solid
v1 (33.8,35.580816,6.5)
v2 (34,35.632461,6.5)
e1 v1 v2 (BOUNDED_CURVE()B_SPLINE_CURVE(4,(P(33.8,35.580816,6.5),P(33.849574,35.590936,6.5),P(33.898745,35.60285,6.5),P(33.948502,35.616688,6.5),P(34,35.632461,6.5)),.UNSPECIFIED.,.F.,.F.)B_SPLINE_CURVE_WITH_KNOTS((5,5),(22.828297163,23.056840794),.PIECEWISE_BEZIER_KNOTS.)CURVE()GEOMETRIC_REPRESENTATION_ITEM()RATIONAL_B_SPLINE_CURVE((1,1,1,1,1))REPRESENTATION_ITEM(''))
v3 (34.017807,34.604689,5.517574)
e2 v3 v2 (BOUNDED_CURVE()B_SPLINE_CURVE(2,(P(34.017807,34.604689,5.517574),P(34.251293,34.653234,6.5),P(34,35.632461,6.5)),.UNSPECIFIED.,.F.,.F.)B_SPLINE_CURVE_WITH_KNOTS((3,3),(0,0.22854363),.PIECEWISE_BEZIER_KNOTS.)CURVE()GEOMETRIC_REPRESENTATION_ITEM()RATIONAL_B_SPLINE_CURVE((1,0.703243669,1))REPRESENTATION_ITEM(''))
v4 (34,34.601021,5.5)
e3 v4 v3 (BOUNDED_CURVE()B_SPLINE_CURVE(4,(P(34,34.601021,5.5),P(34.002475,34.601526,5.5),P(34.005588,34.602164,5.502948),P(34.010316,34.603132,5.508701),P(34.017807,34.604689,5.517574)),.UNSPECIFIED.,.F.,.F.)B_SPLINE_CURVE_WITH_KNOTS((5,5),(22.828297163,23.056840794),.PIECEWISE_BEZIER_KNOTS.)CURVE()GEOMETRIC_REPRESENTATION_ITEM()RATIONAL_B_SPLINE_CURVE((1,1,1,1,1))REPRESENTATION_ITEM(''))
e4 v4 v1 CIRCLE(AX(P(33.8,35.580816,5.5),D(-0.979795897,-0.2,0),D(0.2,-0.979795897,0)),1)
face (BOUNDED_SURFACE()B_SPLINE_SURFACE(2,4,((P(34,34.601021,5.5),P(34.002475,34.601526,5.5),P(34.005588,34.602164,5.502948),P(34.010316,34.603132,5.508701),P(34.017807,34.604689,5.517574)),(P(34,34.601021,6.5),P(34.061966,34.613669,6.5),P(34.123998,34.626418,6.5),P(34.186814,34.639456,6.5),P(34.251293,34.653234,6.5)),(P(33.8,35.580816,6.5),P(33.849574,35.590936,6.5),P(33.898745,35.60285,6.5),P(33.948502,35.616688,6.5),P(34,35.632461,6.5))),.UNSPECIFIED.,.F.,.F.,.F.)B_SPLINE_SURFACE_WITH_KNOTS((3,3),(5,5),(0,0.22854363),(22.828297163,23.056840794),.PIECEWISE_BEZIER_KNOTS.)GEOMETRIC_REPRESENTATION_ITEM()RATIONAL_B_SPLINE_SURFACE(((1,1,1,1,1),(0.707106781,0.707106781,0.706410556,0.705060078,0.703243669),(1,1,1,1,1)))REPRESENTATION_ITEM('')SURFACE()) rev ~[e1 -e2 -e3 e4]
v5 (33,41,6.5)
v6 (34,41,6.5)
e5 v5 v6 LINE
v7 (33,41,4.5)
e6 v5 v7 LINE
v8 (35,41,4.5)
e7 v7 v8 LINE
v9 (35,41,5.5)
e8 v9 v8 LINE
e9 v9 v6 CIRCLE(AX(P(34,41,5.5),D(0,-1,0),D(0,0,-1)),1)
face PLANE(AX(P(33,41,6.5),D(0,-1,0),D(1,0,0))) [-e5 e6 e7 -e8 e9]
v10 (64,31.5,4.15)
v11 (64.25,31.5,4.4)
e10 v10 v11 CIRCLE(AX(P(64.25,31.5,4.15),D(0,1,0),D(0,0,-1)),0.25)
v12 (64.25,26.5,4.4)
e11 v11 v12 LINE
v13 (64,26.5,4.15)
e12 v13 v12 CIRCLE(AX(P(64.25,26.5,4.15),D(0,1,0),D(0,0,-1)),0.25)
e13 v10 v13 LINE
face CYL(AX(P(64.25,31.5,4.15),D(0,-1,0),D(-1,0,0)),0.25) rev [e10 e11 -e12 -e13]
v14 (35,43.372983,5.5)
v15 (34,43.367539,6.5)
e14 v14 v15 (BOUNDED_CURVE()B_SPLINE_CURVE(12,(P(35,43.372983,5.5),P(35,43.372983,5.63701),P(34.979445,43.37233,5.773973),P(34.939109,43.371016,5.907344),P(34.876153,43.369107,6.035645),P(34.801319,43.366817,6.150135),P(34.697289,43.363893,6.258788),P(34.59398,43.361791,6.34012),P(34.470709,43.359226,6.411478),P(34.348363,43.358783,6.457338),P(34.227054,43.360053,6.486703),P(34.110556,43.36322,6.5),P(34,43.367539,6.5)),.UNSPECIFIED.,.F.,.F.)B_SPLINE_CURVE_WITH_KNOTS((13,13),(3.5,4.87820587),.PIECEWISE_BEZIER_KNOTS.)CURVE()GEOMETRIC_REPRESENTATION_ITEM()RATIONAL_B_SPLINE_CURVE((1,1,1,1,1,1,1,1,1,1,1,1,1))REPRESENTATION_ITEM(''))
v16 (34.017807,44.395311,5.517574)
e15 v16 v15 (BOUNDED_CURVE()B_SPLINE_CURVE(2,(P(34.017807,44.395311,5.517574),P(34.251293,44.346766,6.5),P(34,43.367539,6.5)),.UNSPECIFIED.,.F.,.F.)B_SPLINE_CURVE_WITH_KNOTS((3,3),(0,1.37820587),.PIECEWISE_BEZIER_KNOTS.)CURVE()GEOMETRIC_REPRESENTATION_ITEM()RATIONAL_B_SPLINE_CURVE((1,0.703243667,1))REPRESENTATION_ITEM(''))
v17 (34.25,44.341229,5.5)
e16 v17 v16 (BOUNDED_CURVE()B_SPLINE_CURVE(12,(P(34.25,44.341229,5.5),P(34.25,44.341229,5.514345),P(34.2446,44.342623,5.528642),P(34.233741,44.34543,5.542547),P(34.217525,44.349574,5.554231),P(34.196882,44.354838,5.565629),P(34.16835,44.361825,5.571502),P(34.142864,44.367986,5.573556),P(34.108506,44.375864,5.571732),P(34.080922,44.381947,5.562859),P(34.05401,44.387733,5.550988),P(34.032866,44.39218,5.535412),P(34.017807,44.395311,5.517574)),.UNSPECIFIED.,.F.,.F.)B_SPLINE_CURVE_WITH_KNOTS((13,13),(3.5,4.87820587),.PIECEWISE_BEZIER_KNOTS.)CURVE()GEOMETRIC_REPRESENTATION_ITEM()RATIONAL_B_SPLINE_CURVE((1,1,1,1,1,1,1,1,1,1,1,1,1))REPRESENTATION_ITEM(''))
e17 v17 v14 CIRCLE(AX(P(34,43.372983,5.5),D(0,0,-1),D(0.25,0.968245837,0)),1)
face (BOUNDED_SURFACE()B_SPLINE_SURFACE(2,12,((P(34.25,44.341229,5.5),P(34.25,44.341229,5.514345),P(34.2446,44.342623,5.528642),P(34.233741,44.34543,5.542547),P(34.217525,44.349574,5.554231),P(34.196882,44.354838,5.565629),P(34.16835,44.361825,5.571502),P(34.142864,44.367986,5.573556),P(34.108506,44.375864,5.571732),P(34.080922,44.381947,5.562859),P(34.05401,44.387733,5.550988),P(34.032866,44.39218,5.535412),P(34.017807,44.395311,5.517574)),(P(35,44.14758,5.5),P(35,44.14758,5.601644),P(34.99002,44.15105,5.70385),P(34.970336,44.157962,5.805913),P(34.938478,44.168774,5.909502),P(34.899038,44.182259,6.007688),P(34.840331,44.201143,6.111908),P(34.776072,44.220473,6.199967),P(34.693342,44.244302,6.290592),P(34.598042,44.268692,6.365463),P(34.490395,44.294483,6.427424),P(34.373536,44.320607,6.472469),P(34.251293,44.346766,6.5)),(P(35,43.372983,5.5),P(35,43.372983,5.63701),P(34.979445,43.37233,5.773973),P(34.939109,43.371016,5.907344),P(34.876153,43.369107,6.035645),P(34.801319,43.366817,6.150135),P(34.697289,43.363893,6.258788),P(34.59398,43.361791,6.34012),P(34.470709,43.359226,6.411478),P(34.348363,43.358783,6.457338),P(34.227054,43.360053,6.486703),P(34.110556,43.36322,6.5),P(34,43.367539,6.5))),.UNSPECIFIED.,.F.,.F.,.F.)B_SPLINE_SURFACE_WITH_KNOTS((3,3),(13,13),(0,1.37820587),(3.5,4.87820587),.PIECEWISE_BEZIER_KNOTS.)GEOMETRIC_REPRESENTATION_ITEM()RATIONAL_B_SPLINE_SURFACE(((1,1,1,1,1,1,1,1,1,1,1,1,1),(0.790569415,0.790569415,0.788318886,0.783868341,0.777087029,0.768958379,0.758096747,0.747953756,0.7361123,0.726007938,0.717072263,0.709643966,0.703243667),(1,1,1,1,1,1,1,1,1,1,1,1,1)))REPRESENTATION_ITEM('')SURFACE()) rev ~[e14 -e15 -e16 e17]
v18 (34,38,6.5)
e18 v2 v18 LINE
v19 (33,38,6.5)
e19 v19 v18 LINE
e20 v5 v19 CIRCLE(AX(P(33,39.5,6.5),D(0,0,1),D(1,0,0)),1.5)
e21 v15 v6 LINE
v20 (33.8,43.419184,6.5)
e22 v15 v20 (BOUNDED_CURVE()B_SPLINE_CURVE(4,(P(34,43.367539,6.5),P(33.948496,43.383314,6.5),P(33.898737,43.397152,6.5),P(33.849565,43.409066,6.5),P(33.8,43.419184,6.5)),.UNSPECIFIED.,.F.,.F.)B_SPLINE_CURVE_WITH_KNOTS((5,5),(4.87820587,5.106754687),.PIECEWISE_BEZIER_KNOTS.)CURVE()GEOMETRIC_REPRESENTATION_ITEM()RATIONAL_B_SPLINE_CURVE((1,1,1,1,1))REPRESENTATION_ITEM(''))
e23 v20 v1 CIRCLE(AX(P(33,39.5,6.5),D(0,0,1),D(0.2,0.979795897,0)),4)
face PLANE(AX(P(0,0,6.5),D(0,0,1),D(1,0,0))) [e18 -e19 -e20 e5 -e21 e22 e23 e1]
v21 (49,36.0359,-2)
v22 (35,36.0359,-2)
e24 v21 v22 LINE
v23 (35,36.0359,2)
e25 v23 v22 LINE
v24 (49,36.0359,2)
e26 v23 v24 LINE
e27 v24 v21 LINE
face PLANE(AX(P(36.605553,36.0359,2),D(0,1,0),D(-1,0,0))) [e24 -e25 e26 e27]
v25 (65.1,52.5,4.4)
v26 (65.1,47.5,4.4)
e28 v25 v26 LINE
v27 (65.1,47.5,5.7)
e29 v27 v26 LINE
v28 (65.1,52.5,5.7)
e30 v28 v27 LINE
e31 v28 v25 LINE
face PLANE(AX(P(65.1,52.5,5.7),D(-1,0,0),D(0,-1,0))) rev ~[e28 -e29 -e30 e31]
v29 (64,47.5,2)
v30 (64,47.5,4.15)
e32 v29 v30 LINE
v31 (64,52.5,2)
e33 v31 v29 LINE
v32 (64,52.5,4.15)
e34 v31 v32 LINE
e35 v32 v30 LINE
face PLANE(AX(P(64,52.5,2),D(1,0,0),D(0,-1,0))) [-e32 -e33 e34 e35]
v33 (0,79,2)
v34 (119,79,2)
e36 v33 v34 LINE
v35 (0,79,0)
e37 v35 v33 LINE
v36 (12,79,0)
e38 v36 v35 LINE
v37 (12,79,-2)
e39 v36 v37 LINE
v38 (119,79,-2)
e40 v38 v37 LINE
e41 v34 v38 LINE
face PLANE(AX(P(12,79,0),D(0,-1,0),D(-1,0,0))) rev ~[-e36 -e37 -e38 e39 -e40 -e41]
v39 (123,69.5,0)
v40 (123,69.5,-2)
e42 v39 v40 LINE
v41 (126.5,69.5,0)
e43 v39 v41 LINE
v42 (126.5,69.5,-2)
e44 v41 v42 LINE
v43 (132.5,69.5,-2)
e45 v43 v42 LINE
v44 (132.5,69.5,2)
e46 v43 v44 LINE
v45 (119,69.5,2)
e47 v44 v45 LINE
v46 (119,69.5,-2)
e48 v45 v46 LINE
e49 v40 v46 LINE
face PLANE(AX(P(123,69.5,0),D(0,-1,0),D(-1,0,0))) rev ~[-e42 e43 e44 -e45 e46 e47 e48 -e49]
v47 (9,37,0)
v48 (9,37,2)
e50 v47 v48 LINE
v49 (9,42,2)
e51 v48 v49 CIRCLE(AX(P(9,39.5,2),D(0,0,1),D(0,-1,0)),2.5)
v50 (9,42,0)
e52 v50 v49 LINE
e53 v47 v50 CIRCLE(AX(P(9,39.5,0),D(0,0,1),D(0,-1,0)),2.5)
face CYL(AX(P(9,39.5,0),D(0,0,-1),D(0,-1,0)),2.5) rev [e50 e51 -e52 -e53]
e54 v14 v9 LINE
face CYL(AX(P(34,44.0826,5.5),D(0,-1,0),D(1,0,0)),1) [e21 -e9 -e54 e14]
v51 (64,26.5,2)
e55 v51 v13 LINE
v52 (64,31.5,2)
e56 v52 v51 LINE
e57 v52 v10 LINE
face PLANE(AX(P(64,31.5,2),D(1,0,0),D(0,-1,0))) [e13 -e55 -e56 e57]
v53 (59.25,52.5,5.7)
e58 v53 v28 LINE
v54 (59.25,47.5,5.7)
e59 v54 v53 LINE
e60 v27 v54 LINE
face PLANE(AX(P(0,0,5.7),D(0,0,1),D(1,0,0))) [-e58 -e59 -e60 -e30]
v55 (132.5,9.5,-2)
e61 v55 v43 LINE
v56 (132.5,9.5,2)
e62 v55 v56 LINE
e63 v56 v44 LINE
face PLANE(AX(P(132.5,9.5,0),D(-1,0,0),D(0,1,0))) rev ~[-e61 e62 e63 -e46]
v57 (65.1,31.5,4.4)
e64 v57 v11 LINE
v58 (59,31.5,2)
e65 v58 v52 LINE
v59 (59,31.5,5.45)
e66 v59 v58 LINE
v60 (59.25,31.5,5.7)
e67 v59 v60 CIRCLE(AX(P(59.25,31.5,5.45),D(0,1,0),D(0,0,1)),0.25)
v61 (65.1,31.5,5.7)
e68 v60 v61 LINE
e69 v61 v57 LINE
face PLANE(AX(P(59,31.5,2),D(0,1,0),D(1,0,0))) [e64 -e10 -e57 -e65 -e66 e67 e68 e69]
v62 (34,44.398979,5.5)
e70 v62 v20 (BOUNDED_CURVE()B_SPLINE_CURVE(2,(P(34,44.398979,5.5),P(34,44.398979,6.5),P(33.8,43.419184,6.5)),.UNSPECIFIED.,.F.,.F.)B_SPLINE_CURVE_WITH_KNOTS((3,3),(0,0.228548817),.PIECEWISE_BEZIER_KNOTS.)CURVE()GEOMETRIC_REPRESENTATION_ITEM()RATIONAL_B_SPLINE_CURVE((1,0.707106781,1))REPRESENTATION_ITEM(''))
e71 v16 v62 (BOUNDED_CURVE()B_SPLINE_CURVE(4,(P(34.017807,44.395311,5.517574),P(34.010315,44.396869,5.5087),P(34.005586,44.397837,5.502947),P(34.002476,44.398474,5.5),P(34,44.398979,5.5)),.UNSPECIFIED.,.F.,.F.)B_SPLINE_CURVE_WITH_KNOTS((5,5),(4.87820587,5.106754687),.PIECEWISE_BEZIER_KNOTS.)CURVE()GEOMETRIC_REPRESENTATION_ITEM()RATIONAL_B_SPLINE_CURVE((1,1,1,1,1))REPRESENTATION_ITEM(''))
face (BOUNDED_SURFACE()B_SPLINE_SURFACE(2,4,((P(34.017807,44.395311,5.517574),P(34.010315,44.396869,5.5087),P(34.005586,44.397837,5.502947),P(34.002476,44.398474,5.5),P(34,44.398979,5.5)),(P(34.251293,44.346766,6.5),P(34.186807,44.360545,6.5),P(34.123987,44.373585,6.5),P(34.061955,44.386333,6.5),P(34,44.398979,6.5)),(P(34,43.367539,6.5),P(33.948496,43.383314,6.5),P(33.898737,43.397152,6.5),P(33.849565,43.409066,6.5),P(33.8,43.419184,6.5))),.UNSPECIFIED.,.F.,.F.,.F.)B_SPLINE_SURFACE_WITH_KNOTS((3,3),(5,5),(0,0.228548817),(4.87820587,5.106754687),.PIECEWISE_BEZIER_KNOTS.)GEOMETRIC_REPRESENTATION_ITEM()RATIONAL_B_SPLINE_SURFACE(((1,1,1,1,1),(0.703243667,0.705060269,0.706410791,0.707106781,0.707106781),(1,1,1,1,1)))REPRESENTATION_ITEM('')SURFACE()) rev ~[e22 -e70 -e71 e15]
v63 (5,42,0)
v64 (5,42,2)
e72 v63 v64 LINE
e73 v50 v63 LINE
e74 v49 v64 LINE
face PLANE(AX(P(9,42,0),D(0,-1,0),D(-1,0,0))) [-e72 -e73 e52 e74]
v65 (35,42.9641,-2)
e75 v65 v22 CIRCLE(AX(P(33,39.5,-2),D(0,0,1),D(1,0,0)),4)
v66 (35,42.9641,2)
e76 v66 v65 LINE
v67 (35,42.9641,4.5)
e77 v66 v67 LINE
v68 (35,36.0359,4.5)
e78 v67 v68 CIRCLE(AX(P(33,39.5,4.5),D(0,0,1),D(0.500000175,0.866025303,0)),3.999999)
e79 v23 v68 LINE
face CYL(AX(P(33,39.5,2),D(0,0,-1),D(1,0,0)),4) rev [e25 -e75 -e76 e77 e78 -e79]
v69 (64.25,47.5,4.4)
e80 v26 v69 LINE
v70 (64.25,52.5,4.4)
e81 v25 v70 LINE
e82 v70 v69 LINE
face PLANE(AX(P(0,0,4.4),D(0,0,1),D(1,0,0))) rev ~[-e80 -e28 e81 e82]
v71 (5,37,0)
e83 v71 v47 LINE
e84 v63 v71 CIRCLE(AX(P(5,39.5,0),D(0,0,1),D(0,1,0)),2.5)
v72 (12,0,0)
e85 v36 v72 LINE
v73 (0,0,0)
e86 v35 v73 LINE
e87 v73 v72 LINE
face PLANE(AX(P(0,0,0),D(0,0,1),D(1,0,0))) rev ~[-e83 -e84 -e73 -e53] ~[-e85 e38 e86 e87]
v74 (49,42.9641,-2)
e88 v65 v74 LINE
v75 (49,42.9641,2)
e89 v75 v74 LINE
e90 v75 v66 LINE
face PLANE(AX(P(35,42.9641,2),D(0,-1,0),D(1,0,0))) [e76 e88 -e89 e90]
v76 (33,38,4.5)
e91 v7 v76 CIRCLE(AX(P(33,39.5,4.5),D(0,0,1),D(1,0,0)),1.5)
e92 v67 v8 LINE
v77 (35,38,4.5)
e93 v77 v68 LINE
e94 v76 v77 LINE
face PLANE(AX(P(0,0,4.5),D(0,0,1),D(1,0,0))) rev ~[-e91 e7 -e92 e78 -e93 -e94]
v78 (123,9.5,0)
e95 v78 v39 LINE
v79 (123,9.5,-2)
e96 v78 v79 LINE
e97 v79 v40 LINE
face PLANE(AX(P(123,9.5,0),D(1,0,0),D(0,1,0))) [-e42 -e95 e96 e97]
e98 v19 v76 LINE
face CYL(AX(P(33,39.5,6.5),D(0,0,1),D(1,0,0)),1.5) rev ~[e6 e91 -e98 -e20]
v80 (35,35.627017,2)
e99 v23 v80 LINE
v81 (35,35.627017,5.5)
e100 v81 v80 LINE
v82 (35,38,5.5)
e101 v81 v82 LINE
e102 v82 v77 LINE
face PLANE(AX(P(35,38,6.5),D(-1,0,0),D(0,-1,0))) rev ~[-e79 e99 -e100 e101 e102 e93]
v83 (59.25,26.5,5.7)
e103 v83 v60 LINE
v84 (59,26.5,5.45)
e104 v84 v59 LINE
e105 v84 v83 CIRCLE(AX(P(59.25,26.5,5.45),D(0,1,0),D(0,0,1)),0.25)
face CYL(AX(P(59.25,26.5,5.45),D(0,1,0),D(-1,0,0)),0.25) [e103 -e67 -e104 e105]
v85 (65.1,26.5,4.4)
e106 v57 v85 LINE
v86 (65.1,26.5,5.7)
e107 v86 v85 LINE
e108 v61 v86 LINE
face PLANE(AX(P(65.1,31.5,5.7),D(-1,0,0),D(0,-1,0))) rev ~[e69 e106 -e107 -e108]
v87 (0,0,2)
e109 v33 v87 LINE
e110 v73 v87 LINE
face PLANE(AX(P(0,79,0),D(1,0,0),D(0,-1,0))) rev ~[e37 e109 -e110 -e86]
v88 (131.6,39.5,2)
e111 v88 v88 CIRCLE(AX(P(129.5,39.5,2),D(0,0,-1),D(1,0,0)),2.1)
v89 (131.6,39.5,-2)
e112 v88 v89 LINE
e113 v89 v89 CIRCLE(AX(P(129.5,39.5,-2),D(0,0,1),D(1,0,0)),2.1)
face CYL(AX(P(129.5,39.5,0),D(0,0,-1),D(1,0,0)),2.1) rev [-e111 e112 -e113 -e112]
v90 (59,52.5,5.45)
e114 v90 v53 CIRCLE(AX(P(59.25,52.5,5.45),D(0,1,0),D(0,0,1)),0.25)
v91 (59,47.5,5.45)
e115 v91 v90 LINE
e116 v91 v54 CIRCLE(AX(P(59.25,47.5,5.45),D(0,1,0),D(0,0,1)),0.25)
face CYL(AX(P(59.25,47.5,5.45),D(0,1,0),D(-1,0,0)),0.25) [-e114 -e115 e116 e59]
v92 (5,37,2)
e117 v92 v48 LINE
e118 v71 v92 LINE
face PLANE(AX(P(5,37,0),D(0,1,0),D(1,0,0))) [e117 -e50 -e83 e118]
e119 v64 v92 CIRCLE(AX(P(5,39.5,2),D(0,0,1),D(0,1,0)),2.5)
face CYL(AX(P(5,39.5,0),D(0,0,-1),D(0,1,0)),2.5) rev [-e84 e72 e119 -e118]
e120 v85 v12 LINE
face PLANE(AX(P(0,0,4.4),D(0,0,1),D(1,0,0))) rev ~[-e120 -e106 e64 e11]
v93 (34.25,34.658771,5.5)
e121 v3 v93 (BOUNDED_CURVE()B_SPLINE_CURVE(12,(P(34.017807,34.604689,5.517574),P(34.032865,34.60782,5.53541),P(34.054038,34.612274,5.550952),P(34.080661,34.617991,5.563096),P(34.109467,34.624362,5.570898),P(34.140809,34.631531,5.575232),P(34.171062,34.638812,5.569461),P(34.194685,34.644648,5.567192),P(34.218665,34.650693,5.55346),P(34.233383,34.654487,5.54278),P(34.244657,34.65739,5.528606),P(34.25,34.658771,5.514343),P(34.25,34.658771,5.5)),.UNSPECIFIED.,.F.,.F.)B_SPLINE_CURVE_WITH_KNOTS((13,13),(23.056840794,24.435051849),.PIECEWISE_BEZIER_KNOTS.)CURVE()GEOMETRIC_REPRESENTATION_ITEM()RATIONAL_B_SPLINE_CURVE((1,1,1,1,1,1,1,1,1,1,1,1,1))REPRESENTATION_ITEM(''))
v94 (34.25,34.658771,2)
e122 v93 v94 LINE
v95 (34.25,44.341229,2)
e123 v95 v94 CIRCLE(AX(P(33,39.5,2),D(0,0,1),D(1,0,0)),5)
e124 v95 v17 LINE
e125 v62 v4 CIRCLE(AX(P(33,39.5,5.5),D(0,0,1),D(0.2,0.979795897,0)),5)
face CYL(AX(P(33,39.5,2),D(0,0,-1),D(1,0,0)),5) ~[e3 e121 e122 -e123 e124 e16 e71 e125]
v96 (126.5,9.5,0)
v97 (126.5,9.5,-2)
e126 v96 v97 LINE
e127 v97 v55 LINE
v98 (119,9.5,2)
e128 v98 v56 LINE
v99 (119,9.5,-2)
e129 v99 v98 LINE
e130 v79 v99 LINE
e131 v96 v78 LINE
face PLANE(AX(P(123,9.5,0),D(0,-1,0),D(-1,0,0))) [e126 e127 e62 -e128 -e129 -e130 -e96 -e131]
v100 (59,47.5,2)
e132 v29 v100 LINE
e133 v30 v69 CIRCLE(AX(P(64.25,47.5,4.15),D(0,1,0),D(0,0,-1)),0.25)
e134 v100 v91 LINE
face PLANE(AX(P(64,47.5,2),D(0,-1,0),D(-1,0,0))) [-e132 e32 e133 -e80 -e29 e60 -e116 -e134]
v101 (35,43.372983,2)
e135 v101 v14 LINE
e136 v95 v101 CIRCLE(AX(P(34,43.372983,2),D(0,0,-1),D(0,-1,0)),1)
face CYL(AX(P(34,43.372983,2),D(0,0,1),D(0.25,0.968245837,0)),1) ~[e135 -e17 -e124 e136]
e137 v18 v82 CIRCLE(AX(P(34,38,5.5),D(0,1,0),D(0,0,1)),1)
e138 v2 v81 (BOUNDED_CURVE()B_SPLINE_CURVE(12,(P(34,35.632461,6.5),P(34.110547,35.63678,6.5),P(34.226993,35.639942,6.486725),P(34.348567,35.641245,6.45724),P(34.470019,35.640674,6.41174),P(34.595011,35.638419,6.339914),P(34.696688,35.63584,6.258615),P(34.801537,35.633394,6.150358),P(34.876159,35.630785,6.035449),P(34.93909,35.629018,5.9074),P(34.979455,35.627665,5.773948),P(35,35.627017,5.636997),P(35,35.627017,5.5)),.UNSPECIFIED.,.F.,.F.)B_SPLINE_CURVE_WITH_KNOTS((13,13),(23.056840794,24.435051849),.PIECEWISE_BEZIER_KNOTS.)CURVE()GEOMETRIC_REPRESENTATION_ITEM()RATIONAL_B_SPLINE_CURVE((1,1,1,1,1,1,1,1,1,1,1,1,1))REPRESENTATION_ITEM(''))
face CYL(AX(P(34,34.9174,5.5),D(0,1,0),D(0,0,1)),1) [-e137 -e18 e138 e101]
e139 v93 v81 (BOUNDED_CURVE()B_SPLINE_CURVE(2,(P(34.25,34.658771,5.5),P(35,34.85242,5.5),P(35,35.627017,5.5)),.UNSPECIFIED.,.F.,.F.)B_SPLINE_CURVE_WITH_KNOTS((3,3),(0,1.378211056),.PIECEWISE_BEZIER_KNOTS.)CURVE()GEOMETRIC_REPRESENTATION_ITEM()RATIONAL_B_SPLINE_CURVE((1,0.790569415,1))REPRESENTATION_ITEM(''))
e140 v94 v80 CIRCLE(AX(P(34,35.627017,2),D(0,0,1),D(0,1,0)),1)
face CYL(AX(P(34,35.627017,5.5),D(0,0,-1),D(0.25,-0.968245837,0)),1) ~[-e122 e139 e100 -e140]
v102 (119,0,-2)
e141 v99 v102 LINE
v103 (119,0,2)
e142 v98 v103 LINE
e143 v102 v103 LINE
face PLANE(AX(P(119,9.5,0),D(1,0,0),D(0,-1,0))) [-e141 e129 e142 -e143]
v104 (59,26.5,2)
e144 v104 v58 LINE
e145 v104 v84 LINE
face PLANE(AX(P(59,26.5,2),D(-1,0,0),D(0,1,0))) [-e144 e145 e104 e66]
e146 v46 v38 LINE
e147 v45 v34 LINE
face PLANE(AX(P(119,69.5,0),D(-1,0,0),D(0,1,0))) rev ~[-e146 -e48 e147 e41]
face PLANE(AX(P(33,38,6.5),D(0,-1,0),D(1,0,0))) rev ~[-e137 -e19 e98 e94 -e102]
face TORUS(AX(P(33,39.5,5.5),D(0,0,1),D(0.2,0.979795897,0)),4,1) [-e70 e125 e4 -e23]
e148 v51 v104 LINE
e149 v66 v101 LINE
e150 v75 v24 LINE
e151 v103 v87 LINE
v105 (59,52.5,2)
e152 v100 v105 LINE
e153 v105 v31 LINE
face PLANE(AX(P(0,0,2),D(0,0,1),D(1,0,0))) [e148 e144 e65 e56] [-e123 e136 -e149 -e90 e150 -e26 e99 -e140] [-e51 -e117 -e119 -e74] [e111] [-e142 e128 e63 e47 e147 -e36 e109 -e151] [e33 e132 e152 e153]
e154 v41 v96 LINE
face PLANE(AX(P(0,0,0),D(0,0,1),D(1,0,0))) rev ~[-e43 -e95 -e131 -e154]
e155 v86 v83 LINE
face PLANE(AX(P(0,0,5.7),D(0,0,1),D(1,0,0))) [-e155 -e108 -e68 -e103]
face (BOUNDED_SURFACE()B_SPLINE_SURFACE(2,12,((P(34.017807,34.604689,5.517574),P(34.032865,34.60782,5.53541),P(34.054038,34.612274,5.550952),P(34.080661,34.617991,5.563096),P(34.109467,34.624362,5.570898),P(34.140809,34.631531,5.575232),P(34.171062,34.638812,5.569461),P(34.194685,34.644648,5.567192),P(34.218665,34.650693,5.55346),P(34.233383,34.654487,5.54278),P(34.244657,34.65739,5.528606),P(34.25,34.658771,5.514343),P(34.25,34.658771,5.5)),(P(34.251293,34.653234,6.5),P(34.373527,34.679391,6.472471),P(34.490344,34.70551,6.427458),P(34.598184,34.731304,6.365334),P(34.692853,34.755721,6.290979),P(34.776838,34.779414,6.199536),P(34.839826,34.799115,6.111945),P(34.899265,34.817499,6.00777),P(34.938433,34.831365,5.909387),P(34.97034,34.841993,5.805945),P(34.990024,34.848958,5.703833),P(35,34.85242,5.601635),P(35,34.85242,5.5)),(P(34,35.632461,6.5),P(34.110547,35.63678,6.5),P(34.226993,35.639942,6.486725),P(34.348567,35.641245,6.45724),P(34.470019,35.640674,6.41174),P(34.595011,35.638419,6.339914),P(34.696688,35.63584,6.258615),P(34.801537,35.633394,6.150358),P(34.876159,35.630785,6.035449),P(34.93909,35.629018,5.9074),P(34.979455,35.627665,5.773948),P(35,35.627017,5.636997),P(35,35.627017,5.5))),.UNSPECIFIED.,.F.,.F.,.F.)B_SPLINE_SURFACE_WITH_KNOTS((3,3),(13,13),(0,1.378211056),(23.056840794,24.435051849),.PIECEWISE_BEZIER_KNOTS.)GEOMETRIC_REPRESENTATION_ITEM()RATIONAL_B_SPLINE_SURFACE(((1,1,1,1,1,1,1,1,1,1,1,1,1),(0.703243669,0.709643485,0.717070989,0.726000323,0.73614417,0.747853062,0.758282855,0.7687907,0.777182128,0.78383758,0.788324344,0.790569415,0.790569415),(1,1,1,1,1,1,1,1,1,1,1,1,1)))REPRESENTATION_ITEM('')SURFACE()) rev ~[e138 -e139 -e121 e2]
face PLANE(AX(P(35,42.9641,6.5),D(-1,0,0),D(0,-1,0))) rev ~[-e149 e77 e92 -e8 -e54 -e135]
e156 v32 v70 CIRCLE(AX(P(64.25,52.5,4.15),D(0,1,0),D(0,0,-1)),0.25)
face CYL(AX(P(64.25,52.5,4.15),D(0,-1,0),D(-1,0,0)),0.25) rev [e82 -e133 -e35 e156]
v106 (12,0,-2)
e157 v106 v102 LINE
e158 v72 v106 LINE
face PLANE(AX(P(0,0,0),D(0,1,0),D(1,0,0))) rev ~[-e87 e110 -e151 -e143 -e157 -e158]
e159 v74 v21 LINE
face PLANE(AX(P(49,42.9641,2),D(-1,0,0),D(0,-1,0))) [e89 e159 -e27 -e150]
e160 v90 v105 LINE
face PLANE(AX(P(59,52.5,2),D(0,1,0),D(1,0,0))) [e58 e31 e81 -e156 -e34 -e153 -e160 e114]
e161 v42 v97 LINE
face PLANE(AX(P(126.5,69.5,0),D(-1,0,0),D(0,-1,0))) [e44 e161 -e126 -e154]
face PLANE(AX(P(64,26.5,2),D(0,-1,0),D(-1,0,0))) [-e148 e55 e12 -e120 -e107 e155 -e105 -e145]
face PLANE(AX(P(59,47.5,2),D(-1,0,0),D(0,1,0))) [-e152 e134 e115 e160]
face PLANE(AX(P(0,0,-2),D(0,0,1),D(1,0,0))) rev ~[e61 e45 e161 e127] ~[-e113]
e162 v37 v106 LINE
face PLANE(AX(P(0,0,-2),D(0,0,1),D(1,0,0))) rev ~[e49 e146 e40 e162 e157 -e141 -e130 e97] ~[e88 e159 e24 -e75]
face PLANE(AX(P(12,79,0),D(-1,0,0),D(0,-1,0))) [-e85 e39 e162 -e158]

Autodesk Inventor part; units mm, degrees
ref_plane "YZ Plane" through (0, 0, 0) normal (1, 0, 0) x (0, 1, 0)
ref_plane "XZ Plane" through (0, 0, 0) normal (0, 1, 0) x (-1, 0, 0)
ref_plane "XY Plane" through (0, 0, 0) normal (0, 0, 1) x (1, 0, 0)
sketch "Sketch1" plane through (0, 0, 0) normal (0, 0, 1) x (1, 0, 0)
  line L0 (0, 0) -> (123, 0)
  line L1 (123, 0) -> (123, 79)
  line L2 (123, 79) -> (0, 79)
  line L3 (0, 79) -> (0, 0)
  line L4 (12, 79) -> (12, 0)
  line L5 (123, 69.5) -> (126.5, 69.5)
  line L6 (126.5, 69.5) -> (126.5, 9.5)
  line L7 (126.5, 9.5) -> (123, 9.5)
  line L8 (123, 9.5) -> (123, 69.5)
  line L9 (126.5, 9.5) -> (132.5, 9.5)
  line L10 (132.5, 9.5) -> (132.5, 69.5)
  line L11 (132.5, 69.5) -> (126.5, 69.5)
  line L12 (126.5, 69.5) -> (126.5, 9.5)
  line L13 (123, 69.5) -> (119, 69.5)
  line L14 (119, 69.5) -> (119, 79)
  line L15 (119, 79) -> (123, 79)
  line L16 (123, 79) -> (123, 69.5)
  line L17 (123, 9.5) -> (119, 9.5)
  line L18 (119, 9.5) -> (119, 0)
  line L19 (119, 0) -> (123, 0)
  line L20 (123, 0) -> (123, 9.5)
  circle A0 centre (129.5, 39.5) radius 2.1
  line L21 (9, 39.5) -> (5, 39.5) construction
  line L22 (9, 42) -> (5, 42)
  line L23 (5, 37) -> (9, 37)
  arc A1 (9, 37) -> (9, 42) centre (9, 39.5) ccw
  arc A2 (5, 42) -> (5, 37) centre (5, 39.5) ccw
  point P0 (7, 39.5)
  dimension "d0" = 123
  dimension "d1" = 79
  dimension "d2" = 111
  dimension "d3" = 3.5
  dimension "d4" = 6
  dimension "d5" = 60
  dimension "d6" = 9.5
  dimension "d7" = 4
  dimension "d8" = 4
  dimension "d9" = 4.2
  dimension "d10" = 3
  dimension "d11" = 30
  dimension "d20" = 5
  dimension "d21" = 3
  dimension "d22" = 4
  dimension "d23" = 39.5
extrude "Extrusion1" add sketch "Sketch1" along normal blind 2 contours L3 L2 L4 L0 | L4 L2 L14 L13 L1 L17 L18 L0 | L1 L5 L6 L7 | L6 L11 L10 L9 | A0
extrude "Extrusion3" add sketch "Sketch1" against normal blind 2 contours L4 L2 L14 L13 L1 L17 L18 L0 | L6 L11 L10 L9
sketch "Sketch2" plane through (0, 0, 2) normal (0, 0, 1) x (1, 0, 0)
  circle A0 centre (60, 39.5) radius 34
  line L0 (119, 79) -> (0, 79) projected
  line L1 (0, 79) -> (0, 0) projected
  line L2 (59, 52.5) -> (64, 52.5)
  line L3 (64, 52.5) -> (64, 47.5)
  line L4 (64, 47.5) -> (59, 47.5)
  line L5 (59, 47.5) -> (59, 52.5)
  line L6 (59, 31.5) -> (64, 31.5)
  line L7 (64, 31.5) -> (64, 26.5)
  line L8 (64, 26.5) -> (59, 26.5)
  line L9 (59, 26.5) -> (59, 31.5)
  circle A1 centre (33, 39.5) radius 1.5
  circle A2 centre (33, 39.5) radius 4
  line L10 (35, 42.9641) -> (35, 36.0359)
  line L11 (33, 41) -> (35, 41)
  line L12 (33, 38) -> (35, 38)
  circle A3 centre (33, 39.5) radius 5
  line L13 (35, 42.9641) -> (35, 44.0826)
  line L14 (35, 36.0359) -> (35, 34.9174)
  line L15 (35, 42.9641) -> (49, 42.9641)
  line L16 (49, 42.9641) -> (49, 36.0359)
  line L17 (49, 36.0359) -> (35, 36.0359)
  line L18 (35, 36.0359) -> (35, 42.9641)
  dimension "d24" = 68
  dimension "d25" = 39.5
  dimension "d26" = 60
  dimension "d27" = 16
  dimension "d28" = 5
  dimension "d29" = 5
  dimension "d30" = 8
  dimension "d31" = 5
  dimension "d32" = 31
  dimension "d33" = 27
  dimension "d34" = 3
  dimension "d35" = 8
  dimension "d36" = 64
  dimension "d37" = 2
  dimension "d38" = 10
  dimension "d51" = 16
  dimension "d52" = 6.9282
extrude "Extrusion4" add sketch "Sketch2" along normal blind 3.7 contours L2 L3 L4 L5 | L6 L7 L8 L9
sketch "Sketch3" plane through (0, 0, 5.7) normal (0, 0, 1) x (1, 0, 0)
  line L0 (59, 52.5) -> (64, 52.5) projected
  line L1 (59, 52.5) -> (65.1, 52.5)
  line L2 (65.1, 52.5) -> (65.1, 47.5)
  line L3 (65.1, 47.5) -> (59, 47.5)
  line L4 (59, 47.5) -> (59, 52.5)
  line L5 (59, 47.5) -> (64, 47.5) projected
  line L6 (59, 31.5) -> (64, 31.5) projected
  line L7 (59, 31.5) -> (65.1, 31.5)
  line L8 (65.1, 31.5) -> (65.1, 26.5)
  line L9 (65.1, 26.5) -> (59, 26.5)
  line L10 (59, 26.5) -> (59, 31.5)
  line L11 (59, 26.5) -> (64, 26.5) projected
  line L12 (64, 47.5) -> (64, 52.5) projected
  line L13 (64, 26.5) -> (64, 31.5) projected
  point P0 (0, 0)
  point P1 (61.5, 47.5)
  point P2 (61.5, 26.5)
  dimension "d41" = 1.1
  dimension "d42" = 1.1
extrude "Extrusion5" add sketch "Sketch3" against normal blind 1.3
fillet "Fillet1" radius 0.25 4 edges at (59, 29, 5.7) (59, 50, 5.7) (64, 29, 4.4) (64, 50, 4.4)
extrude "Extrusion6" add sketch "Sketch2" along normal blind 4.5 contours A2 L14 A3 L13
sketch "Sketch4" plane through (0, 0, 6.5) normal (0, 0, 1) x (1, 0, 0)
  line L0 (35, 42.9641) -> (35, 36.0359) projected
  line L1 (33, 41) -> (35, 41) projected
  circle A0 centre (33, 39.5) radius 1.5 projected
  line L2 (33, 38) -> (35, 38) projected
  arc A1 (35, 42.9641) -> (35, 36.0359) centre (33, 39.5) ccw projected
  point P0 (0, 0)
extrude "Extrusion7" add sketch "Sketch4" against normal blind 2 contours L0 L1 A0 L2 A1
fillet "Fillet2" radius 1 2 edges at (35, 36.4587, 6.5) (35, 42.5413, 6.5)
extrude "Extrusion8" cut sketch "Sketch2" against normal through all contours A1 | A1 L11 L10 L12 | A1 L12 L10 A2 L11 | L10 A2 | L15 A3 L17 A2 | L15 L16 L17 A3
fillet "Fillet3" radius 1 5 edges at (34.7352, 34.8107, 6.1779) (35, 34.9174, 3.75) (34.7352, 44.1893, 6.1779) (35, 44.0826, 3.75) (28, 39.5, 6.5)
sketch "Sketch5" plane through (0, 0, 2) normal (0, 0, 1) x (1, 0, 0)
  point P0 (0, 0)
extrude "Extrusion9" cut sketch "Sketch1" along normal through all both and the other way through all contours A0
equation "\"d6\" = -0.5 * d5 + 0.5 * d1"
equation "\"d10\" = 0.5 * d4"
equation "\"d11\" = 0.5 * d5"
equation "\"d23\" = 0.5 * d1"
equation "\"d25\" = d23"
equation "\"d29\" = d28"
equation "\"d30\" = 0.5 * d27"
properties part number "gps_cover"
